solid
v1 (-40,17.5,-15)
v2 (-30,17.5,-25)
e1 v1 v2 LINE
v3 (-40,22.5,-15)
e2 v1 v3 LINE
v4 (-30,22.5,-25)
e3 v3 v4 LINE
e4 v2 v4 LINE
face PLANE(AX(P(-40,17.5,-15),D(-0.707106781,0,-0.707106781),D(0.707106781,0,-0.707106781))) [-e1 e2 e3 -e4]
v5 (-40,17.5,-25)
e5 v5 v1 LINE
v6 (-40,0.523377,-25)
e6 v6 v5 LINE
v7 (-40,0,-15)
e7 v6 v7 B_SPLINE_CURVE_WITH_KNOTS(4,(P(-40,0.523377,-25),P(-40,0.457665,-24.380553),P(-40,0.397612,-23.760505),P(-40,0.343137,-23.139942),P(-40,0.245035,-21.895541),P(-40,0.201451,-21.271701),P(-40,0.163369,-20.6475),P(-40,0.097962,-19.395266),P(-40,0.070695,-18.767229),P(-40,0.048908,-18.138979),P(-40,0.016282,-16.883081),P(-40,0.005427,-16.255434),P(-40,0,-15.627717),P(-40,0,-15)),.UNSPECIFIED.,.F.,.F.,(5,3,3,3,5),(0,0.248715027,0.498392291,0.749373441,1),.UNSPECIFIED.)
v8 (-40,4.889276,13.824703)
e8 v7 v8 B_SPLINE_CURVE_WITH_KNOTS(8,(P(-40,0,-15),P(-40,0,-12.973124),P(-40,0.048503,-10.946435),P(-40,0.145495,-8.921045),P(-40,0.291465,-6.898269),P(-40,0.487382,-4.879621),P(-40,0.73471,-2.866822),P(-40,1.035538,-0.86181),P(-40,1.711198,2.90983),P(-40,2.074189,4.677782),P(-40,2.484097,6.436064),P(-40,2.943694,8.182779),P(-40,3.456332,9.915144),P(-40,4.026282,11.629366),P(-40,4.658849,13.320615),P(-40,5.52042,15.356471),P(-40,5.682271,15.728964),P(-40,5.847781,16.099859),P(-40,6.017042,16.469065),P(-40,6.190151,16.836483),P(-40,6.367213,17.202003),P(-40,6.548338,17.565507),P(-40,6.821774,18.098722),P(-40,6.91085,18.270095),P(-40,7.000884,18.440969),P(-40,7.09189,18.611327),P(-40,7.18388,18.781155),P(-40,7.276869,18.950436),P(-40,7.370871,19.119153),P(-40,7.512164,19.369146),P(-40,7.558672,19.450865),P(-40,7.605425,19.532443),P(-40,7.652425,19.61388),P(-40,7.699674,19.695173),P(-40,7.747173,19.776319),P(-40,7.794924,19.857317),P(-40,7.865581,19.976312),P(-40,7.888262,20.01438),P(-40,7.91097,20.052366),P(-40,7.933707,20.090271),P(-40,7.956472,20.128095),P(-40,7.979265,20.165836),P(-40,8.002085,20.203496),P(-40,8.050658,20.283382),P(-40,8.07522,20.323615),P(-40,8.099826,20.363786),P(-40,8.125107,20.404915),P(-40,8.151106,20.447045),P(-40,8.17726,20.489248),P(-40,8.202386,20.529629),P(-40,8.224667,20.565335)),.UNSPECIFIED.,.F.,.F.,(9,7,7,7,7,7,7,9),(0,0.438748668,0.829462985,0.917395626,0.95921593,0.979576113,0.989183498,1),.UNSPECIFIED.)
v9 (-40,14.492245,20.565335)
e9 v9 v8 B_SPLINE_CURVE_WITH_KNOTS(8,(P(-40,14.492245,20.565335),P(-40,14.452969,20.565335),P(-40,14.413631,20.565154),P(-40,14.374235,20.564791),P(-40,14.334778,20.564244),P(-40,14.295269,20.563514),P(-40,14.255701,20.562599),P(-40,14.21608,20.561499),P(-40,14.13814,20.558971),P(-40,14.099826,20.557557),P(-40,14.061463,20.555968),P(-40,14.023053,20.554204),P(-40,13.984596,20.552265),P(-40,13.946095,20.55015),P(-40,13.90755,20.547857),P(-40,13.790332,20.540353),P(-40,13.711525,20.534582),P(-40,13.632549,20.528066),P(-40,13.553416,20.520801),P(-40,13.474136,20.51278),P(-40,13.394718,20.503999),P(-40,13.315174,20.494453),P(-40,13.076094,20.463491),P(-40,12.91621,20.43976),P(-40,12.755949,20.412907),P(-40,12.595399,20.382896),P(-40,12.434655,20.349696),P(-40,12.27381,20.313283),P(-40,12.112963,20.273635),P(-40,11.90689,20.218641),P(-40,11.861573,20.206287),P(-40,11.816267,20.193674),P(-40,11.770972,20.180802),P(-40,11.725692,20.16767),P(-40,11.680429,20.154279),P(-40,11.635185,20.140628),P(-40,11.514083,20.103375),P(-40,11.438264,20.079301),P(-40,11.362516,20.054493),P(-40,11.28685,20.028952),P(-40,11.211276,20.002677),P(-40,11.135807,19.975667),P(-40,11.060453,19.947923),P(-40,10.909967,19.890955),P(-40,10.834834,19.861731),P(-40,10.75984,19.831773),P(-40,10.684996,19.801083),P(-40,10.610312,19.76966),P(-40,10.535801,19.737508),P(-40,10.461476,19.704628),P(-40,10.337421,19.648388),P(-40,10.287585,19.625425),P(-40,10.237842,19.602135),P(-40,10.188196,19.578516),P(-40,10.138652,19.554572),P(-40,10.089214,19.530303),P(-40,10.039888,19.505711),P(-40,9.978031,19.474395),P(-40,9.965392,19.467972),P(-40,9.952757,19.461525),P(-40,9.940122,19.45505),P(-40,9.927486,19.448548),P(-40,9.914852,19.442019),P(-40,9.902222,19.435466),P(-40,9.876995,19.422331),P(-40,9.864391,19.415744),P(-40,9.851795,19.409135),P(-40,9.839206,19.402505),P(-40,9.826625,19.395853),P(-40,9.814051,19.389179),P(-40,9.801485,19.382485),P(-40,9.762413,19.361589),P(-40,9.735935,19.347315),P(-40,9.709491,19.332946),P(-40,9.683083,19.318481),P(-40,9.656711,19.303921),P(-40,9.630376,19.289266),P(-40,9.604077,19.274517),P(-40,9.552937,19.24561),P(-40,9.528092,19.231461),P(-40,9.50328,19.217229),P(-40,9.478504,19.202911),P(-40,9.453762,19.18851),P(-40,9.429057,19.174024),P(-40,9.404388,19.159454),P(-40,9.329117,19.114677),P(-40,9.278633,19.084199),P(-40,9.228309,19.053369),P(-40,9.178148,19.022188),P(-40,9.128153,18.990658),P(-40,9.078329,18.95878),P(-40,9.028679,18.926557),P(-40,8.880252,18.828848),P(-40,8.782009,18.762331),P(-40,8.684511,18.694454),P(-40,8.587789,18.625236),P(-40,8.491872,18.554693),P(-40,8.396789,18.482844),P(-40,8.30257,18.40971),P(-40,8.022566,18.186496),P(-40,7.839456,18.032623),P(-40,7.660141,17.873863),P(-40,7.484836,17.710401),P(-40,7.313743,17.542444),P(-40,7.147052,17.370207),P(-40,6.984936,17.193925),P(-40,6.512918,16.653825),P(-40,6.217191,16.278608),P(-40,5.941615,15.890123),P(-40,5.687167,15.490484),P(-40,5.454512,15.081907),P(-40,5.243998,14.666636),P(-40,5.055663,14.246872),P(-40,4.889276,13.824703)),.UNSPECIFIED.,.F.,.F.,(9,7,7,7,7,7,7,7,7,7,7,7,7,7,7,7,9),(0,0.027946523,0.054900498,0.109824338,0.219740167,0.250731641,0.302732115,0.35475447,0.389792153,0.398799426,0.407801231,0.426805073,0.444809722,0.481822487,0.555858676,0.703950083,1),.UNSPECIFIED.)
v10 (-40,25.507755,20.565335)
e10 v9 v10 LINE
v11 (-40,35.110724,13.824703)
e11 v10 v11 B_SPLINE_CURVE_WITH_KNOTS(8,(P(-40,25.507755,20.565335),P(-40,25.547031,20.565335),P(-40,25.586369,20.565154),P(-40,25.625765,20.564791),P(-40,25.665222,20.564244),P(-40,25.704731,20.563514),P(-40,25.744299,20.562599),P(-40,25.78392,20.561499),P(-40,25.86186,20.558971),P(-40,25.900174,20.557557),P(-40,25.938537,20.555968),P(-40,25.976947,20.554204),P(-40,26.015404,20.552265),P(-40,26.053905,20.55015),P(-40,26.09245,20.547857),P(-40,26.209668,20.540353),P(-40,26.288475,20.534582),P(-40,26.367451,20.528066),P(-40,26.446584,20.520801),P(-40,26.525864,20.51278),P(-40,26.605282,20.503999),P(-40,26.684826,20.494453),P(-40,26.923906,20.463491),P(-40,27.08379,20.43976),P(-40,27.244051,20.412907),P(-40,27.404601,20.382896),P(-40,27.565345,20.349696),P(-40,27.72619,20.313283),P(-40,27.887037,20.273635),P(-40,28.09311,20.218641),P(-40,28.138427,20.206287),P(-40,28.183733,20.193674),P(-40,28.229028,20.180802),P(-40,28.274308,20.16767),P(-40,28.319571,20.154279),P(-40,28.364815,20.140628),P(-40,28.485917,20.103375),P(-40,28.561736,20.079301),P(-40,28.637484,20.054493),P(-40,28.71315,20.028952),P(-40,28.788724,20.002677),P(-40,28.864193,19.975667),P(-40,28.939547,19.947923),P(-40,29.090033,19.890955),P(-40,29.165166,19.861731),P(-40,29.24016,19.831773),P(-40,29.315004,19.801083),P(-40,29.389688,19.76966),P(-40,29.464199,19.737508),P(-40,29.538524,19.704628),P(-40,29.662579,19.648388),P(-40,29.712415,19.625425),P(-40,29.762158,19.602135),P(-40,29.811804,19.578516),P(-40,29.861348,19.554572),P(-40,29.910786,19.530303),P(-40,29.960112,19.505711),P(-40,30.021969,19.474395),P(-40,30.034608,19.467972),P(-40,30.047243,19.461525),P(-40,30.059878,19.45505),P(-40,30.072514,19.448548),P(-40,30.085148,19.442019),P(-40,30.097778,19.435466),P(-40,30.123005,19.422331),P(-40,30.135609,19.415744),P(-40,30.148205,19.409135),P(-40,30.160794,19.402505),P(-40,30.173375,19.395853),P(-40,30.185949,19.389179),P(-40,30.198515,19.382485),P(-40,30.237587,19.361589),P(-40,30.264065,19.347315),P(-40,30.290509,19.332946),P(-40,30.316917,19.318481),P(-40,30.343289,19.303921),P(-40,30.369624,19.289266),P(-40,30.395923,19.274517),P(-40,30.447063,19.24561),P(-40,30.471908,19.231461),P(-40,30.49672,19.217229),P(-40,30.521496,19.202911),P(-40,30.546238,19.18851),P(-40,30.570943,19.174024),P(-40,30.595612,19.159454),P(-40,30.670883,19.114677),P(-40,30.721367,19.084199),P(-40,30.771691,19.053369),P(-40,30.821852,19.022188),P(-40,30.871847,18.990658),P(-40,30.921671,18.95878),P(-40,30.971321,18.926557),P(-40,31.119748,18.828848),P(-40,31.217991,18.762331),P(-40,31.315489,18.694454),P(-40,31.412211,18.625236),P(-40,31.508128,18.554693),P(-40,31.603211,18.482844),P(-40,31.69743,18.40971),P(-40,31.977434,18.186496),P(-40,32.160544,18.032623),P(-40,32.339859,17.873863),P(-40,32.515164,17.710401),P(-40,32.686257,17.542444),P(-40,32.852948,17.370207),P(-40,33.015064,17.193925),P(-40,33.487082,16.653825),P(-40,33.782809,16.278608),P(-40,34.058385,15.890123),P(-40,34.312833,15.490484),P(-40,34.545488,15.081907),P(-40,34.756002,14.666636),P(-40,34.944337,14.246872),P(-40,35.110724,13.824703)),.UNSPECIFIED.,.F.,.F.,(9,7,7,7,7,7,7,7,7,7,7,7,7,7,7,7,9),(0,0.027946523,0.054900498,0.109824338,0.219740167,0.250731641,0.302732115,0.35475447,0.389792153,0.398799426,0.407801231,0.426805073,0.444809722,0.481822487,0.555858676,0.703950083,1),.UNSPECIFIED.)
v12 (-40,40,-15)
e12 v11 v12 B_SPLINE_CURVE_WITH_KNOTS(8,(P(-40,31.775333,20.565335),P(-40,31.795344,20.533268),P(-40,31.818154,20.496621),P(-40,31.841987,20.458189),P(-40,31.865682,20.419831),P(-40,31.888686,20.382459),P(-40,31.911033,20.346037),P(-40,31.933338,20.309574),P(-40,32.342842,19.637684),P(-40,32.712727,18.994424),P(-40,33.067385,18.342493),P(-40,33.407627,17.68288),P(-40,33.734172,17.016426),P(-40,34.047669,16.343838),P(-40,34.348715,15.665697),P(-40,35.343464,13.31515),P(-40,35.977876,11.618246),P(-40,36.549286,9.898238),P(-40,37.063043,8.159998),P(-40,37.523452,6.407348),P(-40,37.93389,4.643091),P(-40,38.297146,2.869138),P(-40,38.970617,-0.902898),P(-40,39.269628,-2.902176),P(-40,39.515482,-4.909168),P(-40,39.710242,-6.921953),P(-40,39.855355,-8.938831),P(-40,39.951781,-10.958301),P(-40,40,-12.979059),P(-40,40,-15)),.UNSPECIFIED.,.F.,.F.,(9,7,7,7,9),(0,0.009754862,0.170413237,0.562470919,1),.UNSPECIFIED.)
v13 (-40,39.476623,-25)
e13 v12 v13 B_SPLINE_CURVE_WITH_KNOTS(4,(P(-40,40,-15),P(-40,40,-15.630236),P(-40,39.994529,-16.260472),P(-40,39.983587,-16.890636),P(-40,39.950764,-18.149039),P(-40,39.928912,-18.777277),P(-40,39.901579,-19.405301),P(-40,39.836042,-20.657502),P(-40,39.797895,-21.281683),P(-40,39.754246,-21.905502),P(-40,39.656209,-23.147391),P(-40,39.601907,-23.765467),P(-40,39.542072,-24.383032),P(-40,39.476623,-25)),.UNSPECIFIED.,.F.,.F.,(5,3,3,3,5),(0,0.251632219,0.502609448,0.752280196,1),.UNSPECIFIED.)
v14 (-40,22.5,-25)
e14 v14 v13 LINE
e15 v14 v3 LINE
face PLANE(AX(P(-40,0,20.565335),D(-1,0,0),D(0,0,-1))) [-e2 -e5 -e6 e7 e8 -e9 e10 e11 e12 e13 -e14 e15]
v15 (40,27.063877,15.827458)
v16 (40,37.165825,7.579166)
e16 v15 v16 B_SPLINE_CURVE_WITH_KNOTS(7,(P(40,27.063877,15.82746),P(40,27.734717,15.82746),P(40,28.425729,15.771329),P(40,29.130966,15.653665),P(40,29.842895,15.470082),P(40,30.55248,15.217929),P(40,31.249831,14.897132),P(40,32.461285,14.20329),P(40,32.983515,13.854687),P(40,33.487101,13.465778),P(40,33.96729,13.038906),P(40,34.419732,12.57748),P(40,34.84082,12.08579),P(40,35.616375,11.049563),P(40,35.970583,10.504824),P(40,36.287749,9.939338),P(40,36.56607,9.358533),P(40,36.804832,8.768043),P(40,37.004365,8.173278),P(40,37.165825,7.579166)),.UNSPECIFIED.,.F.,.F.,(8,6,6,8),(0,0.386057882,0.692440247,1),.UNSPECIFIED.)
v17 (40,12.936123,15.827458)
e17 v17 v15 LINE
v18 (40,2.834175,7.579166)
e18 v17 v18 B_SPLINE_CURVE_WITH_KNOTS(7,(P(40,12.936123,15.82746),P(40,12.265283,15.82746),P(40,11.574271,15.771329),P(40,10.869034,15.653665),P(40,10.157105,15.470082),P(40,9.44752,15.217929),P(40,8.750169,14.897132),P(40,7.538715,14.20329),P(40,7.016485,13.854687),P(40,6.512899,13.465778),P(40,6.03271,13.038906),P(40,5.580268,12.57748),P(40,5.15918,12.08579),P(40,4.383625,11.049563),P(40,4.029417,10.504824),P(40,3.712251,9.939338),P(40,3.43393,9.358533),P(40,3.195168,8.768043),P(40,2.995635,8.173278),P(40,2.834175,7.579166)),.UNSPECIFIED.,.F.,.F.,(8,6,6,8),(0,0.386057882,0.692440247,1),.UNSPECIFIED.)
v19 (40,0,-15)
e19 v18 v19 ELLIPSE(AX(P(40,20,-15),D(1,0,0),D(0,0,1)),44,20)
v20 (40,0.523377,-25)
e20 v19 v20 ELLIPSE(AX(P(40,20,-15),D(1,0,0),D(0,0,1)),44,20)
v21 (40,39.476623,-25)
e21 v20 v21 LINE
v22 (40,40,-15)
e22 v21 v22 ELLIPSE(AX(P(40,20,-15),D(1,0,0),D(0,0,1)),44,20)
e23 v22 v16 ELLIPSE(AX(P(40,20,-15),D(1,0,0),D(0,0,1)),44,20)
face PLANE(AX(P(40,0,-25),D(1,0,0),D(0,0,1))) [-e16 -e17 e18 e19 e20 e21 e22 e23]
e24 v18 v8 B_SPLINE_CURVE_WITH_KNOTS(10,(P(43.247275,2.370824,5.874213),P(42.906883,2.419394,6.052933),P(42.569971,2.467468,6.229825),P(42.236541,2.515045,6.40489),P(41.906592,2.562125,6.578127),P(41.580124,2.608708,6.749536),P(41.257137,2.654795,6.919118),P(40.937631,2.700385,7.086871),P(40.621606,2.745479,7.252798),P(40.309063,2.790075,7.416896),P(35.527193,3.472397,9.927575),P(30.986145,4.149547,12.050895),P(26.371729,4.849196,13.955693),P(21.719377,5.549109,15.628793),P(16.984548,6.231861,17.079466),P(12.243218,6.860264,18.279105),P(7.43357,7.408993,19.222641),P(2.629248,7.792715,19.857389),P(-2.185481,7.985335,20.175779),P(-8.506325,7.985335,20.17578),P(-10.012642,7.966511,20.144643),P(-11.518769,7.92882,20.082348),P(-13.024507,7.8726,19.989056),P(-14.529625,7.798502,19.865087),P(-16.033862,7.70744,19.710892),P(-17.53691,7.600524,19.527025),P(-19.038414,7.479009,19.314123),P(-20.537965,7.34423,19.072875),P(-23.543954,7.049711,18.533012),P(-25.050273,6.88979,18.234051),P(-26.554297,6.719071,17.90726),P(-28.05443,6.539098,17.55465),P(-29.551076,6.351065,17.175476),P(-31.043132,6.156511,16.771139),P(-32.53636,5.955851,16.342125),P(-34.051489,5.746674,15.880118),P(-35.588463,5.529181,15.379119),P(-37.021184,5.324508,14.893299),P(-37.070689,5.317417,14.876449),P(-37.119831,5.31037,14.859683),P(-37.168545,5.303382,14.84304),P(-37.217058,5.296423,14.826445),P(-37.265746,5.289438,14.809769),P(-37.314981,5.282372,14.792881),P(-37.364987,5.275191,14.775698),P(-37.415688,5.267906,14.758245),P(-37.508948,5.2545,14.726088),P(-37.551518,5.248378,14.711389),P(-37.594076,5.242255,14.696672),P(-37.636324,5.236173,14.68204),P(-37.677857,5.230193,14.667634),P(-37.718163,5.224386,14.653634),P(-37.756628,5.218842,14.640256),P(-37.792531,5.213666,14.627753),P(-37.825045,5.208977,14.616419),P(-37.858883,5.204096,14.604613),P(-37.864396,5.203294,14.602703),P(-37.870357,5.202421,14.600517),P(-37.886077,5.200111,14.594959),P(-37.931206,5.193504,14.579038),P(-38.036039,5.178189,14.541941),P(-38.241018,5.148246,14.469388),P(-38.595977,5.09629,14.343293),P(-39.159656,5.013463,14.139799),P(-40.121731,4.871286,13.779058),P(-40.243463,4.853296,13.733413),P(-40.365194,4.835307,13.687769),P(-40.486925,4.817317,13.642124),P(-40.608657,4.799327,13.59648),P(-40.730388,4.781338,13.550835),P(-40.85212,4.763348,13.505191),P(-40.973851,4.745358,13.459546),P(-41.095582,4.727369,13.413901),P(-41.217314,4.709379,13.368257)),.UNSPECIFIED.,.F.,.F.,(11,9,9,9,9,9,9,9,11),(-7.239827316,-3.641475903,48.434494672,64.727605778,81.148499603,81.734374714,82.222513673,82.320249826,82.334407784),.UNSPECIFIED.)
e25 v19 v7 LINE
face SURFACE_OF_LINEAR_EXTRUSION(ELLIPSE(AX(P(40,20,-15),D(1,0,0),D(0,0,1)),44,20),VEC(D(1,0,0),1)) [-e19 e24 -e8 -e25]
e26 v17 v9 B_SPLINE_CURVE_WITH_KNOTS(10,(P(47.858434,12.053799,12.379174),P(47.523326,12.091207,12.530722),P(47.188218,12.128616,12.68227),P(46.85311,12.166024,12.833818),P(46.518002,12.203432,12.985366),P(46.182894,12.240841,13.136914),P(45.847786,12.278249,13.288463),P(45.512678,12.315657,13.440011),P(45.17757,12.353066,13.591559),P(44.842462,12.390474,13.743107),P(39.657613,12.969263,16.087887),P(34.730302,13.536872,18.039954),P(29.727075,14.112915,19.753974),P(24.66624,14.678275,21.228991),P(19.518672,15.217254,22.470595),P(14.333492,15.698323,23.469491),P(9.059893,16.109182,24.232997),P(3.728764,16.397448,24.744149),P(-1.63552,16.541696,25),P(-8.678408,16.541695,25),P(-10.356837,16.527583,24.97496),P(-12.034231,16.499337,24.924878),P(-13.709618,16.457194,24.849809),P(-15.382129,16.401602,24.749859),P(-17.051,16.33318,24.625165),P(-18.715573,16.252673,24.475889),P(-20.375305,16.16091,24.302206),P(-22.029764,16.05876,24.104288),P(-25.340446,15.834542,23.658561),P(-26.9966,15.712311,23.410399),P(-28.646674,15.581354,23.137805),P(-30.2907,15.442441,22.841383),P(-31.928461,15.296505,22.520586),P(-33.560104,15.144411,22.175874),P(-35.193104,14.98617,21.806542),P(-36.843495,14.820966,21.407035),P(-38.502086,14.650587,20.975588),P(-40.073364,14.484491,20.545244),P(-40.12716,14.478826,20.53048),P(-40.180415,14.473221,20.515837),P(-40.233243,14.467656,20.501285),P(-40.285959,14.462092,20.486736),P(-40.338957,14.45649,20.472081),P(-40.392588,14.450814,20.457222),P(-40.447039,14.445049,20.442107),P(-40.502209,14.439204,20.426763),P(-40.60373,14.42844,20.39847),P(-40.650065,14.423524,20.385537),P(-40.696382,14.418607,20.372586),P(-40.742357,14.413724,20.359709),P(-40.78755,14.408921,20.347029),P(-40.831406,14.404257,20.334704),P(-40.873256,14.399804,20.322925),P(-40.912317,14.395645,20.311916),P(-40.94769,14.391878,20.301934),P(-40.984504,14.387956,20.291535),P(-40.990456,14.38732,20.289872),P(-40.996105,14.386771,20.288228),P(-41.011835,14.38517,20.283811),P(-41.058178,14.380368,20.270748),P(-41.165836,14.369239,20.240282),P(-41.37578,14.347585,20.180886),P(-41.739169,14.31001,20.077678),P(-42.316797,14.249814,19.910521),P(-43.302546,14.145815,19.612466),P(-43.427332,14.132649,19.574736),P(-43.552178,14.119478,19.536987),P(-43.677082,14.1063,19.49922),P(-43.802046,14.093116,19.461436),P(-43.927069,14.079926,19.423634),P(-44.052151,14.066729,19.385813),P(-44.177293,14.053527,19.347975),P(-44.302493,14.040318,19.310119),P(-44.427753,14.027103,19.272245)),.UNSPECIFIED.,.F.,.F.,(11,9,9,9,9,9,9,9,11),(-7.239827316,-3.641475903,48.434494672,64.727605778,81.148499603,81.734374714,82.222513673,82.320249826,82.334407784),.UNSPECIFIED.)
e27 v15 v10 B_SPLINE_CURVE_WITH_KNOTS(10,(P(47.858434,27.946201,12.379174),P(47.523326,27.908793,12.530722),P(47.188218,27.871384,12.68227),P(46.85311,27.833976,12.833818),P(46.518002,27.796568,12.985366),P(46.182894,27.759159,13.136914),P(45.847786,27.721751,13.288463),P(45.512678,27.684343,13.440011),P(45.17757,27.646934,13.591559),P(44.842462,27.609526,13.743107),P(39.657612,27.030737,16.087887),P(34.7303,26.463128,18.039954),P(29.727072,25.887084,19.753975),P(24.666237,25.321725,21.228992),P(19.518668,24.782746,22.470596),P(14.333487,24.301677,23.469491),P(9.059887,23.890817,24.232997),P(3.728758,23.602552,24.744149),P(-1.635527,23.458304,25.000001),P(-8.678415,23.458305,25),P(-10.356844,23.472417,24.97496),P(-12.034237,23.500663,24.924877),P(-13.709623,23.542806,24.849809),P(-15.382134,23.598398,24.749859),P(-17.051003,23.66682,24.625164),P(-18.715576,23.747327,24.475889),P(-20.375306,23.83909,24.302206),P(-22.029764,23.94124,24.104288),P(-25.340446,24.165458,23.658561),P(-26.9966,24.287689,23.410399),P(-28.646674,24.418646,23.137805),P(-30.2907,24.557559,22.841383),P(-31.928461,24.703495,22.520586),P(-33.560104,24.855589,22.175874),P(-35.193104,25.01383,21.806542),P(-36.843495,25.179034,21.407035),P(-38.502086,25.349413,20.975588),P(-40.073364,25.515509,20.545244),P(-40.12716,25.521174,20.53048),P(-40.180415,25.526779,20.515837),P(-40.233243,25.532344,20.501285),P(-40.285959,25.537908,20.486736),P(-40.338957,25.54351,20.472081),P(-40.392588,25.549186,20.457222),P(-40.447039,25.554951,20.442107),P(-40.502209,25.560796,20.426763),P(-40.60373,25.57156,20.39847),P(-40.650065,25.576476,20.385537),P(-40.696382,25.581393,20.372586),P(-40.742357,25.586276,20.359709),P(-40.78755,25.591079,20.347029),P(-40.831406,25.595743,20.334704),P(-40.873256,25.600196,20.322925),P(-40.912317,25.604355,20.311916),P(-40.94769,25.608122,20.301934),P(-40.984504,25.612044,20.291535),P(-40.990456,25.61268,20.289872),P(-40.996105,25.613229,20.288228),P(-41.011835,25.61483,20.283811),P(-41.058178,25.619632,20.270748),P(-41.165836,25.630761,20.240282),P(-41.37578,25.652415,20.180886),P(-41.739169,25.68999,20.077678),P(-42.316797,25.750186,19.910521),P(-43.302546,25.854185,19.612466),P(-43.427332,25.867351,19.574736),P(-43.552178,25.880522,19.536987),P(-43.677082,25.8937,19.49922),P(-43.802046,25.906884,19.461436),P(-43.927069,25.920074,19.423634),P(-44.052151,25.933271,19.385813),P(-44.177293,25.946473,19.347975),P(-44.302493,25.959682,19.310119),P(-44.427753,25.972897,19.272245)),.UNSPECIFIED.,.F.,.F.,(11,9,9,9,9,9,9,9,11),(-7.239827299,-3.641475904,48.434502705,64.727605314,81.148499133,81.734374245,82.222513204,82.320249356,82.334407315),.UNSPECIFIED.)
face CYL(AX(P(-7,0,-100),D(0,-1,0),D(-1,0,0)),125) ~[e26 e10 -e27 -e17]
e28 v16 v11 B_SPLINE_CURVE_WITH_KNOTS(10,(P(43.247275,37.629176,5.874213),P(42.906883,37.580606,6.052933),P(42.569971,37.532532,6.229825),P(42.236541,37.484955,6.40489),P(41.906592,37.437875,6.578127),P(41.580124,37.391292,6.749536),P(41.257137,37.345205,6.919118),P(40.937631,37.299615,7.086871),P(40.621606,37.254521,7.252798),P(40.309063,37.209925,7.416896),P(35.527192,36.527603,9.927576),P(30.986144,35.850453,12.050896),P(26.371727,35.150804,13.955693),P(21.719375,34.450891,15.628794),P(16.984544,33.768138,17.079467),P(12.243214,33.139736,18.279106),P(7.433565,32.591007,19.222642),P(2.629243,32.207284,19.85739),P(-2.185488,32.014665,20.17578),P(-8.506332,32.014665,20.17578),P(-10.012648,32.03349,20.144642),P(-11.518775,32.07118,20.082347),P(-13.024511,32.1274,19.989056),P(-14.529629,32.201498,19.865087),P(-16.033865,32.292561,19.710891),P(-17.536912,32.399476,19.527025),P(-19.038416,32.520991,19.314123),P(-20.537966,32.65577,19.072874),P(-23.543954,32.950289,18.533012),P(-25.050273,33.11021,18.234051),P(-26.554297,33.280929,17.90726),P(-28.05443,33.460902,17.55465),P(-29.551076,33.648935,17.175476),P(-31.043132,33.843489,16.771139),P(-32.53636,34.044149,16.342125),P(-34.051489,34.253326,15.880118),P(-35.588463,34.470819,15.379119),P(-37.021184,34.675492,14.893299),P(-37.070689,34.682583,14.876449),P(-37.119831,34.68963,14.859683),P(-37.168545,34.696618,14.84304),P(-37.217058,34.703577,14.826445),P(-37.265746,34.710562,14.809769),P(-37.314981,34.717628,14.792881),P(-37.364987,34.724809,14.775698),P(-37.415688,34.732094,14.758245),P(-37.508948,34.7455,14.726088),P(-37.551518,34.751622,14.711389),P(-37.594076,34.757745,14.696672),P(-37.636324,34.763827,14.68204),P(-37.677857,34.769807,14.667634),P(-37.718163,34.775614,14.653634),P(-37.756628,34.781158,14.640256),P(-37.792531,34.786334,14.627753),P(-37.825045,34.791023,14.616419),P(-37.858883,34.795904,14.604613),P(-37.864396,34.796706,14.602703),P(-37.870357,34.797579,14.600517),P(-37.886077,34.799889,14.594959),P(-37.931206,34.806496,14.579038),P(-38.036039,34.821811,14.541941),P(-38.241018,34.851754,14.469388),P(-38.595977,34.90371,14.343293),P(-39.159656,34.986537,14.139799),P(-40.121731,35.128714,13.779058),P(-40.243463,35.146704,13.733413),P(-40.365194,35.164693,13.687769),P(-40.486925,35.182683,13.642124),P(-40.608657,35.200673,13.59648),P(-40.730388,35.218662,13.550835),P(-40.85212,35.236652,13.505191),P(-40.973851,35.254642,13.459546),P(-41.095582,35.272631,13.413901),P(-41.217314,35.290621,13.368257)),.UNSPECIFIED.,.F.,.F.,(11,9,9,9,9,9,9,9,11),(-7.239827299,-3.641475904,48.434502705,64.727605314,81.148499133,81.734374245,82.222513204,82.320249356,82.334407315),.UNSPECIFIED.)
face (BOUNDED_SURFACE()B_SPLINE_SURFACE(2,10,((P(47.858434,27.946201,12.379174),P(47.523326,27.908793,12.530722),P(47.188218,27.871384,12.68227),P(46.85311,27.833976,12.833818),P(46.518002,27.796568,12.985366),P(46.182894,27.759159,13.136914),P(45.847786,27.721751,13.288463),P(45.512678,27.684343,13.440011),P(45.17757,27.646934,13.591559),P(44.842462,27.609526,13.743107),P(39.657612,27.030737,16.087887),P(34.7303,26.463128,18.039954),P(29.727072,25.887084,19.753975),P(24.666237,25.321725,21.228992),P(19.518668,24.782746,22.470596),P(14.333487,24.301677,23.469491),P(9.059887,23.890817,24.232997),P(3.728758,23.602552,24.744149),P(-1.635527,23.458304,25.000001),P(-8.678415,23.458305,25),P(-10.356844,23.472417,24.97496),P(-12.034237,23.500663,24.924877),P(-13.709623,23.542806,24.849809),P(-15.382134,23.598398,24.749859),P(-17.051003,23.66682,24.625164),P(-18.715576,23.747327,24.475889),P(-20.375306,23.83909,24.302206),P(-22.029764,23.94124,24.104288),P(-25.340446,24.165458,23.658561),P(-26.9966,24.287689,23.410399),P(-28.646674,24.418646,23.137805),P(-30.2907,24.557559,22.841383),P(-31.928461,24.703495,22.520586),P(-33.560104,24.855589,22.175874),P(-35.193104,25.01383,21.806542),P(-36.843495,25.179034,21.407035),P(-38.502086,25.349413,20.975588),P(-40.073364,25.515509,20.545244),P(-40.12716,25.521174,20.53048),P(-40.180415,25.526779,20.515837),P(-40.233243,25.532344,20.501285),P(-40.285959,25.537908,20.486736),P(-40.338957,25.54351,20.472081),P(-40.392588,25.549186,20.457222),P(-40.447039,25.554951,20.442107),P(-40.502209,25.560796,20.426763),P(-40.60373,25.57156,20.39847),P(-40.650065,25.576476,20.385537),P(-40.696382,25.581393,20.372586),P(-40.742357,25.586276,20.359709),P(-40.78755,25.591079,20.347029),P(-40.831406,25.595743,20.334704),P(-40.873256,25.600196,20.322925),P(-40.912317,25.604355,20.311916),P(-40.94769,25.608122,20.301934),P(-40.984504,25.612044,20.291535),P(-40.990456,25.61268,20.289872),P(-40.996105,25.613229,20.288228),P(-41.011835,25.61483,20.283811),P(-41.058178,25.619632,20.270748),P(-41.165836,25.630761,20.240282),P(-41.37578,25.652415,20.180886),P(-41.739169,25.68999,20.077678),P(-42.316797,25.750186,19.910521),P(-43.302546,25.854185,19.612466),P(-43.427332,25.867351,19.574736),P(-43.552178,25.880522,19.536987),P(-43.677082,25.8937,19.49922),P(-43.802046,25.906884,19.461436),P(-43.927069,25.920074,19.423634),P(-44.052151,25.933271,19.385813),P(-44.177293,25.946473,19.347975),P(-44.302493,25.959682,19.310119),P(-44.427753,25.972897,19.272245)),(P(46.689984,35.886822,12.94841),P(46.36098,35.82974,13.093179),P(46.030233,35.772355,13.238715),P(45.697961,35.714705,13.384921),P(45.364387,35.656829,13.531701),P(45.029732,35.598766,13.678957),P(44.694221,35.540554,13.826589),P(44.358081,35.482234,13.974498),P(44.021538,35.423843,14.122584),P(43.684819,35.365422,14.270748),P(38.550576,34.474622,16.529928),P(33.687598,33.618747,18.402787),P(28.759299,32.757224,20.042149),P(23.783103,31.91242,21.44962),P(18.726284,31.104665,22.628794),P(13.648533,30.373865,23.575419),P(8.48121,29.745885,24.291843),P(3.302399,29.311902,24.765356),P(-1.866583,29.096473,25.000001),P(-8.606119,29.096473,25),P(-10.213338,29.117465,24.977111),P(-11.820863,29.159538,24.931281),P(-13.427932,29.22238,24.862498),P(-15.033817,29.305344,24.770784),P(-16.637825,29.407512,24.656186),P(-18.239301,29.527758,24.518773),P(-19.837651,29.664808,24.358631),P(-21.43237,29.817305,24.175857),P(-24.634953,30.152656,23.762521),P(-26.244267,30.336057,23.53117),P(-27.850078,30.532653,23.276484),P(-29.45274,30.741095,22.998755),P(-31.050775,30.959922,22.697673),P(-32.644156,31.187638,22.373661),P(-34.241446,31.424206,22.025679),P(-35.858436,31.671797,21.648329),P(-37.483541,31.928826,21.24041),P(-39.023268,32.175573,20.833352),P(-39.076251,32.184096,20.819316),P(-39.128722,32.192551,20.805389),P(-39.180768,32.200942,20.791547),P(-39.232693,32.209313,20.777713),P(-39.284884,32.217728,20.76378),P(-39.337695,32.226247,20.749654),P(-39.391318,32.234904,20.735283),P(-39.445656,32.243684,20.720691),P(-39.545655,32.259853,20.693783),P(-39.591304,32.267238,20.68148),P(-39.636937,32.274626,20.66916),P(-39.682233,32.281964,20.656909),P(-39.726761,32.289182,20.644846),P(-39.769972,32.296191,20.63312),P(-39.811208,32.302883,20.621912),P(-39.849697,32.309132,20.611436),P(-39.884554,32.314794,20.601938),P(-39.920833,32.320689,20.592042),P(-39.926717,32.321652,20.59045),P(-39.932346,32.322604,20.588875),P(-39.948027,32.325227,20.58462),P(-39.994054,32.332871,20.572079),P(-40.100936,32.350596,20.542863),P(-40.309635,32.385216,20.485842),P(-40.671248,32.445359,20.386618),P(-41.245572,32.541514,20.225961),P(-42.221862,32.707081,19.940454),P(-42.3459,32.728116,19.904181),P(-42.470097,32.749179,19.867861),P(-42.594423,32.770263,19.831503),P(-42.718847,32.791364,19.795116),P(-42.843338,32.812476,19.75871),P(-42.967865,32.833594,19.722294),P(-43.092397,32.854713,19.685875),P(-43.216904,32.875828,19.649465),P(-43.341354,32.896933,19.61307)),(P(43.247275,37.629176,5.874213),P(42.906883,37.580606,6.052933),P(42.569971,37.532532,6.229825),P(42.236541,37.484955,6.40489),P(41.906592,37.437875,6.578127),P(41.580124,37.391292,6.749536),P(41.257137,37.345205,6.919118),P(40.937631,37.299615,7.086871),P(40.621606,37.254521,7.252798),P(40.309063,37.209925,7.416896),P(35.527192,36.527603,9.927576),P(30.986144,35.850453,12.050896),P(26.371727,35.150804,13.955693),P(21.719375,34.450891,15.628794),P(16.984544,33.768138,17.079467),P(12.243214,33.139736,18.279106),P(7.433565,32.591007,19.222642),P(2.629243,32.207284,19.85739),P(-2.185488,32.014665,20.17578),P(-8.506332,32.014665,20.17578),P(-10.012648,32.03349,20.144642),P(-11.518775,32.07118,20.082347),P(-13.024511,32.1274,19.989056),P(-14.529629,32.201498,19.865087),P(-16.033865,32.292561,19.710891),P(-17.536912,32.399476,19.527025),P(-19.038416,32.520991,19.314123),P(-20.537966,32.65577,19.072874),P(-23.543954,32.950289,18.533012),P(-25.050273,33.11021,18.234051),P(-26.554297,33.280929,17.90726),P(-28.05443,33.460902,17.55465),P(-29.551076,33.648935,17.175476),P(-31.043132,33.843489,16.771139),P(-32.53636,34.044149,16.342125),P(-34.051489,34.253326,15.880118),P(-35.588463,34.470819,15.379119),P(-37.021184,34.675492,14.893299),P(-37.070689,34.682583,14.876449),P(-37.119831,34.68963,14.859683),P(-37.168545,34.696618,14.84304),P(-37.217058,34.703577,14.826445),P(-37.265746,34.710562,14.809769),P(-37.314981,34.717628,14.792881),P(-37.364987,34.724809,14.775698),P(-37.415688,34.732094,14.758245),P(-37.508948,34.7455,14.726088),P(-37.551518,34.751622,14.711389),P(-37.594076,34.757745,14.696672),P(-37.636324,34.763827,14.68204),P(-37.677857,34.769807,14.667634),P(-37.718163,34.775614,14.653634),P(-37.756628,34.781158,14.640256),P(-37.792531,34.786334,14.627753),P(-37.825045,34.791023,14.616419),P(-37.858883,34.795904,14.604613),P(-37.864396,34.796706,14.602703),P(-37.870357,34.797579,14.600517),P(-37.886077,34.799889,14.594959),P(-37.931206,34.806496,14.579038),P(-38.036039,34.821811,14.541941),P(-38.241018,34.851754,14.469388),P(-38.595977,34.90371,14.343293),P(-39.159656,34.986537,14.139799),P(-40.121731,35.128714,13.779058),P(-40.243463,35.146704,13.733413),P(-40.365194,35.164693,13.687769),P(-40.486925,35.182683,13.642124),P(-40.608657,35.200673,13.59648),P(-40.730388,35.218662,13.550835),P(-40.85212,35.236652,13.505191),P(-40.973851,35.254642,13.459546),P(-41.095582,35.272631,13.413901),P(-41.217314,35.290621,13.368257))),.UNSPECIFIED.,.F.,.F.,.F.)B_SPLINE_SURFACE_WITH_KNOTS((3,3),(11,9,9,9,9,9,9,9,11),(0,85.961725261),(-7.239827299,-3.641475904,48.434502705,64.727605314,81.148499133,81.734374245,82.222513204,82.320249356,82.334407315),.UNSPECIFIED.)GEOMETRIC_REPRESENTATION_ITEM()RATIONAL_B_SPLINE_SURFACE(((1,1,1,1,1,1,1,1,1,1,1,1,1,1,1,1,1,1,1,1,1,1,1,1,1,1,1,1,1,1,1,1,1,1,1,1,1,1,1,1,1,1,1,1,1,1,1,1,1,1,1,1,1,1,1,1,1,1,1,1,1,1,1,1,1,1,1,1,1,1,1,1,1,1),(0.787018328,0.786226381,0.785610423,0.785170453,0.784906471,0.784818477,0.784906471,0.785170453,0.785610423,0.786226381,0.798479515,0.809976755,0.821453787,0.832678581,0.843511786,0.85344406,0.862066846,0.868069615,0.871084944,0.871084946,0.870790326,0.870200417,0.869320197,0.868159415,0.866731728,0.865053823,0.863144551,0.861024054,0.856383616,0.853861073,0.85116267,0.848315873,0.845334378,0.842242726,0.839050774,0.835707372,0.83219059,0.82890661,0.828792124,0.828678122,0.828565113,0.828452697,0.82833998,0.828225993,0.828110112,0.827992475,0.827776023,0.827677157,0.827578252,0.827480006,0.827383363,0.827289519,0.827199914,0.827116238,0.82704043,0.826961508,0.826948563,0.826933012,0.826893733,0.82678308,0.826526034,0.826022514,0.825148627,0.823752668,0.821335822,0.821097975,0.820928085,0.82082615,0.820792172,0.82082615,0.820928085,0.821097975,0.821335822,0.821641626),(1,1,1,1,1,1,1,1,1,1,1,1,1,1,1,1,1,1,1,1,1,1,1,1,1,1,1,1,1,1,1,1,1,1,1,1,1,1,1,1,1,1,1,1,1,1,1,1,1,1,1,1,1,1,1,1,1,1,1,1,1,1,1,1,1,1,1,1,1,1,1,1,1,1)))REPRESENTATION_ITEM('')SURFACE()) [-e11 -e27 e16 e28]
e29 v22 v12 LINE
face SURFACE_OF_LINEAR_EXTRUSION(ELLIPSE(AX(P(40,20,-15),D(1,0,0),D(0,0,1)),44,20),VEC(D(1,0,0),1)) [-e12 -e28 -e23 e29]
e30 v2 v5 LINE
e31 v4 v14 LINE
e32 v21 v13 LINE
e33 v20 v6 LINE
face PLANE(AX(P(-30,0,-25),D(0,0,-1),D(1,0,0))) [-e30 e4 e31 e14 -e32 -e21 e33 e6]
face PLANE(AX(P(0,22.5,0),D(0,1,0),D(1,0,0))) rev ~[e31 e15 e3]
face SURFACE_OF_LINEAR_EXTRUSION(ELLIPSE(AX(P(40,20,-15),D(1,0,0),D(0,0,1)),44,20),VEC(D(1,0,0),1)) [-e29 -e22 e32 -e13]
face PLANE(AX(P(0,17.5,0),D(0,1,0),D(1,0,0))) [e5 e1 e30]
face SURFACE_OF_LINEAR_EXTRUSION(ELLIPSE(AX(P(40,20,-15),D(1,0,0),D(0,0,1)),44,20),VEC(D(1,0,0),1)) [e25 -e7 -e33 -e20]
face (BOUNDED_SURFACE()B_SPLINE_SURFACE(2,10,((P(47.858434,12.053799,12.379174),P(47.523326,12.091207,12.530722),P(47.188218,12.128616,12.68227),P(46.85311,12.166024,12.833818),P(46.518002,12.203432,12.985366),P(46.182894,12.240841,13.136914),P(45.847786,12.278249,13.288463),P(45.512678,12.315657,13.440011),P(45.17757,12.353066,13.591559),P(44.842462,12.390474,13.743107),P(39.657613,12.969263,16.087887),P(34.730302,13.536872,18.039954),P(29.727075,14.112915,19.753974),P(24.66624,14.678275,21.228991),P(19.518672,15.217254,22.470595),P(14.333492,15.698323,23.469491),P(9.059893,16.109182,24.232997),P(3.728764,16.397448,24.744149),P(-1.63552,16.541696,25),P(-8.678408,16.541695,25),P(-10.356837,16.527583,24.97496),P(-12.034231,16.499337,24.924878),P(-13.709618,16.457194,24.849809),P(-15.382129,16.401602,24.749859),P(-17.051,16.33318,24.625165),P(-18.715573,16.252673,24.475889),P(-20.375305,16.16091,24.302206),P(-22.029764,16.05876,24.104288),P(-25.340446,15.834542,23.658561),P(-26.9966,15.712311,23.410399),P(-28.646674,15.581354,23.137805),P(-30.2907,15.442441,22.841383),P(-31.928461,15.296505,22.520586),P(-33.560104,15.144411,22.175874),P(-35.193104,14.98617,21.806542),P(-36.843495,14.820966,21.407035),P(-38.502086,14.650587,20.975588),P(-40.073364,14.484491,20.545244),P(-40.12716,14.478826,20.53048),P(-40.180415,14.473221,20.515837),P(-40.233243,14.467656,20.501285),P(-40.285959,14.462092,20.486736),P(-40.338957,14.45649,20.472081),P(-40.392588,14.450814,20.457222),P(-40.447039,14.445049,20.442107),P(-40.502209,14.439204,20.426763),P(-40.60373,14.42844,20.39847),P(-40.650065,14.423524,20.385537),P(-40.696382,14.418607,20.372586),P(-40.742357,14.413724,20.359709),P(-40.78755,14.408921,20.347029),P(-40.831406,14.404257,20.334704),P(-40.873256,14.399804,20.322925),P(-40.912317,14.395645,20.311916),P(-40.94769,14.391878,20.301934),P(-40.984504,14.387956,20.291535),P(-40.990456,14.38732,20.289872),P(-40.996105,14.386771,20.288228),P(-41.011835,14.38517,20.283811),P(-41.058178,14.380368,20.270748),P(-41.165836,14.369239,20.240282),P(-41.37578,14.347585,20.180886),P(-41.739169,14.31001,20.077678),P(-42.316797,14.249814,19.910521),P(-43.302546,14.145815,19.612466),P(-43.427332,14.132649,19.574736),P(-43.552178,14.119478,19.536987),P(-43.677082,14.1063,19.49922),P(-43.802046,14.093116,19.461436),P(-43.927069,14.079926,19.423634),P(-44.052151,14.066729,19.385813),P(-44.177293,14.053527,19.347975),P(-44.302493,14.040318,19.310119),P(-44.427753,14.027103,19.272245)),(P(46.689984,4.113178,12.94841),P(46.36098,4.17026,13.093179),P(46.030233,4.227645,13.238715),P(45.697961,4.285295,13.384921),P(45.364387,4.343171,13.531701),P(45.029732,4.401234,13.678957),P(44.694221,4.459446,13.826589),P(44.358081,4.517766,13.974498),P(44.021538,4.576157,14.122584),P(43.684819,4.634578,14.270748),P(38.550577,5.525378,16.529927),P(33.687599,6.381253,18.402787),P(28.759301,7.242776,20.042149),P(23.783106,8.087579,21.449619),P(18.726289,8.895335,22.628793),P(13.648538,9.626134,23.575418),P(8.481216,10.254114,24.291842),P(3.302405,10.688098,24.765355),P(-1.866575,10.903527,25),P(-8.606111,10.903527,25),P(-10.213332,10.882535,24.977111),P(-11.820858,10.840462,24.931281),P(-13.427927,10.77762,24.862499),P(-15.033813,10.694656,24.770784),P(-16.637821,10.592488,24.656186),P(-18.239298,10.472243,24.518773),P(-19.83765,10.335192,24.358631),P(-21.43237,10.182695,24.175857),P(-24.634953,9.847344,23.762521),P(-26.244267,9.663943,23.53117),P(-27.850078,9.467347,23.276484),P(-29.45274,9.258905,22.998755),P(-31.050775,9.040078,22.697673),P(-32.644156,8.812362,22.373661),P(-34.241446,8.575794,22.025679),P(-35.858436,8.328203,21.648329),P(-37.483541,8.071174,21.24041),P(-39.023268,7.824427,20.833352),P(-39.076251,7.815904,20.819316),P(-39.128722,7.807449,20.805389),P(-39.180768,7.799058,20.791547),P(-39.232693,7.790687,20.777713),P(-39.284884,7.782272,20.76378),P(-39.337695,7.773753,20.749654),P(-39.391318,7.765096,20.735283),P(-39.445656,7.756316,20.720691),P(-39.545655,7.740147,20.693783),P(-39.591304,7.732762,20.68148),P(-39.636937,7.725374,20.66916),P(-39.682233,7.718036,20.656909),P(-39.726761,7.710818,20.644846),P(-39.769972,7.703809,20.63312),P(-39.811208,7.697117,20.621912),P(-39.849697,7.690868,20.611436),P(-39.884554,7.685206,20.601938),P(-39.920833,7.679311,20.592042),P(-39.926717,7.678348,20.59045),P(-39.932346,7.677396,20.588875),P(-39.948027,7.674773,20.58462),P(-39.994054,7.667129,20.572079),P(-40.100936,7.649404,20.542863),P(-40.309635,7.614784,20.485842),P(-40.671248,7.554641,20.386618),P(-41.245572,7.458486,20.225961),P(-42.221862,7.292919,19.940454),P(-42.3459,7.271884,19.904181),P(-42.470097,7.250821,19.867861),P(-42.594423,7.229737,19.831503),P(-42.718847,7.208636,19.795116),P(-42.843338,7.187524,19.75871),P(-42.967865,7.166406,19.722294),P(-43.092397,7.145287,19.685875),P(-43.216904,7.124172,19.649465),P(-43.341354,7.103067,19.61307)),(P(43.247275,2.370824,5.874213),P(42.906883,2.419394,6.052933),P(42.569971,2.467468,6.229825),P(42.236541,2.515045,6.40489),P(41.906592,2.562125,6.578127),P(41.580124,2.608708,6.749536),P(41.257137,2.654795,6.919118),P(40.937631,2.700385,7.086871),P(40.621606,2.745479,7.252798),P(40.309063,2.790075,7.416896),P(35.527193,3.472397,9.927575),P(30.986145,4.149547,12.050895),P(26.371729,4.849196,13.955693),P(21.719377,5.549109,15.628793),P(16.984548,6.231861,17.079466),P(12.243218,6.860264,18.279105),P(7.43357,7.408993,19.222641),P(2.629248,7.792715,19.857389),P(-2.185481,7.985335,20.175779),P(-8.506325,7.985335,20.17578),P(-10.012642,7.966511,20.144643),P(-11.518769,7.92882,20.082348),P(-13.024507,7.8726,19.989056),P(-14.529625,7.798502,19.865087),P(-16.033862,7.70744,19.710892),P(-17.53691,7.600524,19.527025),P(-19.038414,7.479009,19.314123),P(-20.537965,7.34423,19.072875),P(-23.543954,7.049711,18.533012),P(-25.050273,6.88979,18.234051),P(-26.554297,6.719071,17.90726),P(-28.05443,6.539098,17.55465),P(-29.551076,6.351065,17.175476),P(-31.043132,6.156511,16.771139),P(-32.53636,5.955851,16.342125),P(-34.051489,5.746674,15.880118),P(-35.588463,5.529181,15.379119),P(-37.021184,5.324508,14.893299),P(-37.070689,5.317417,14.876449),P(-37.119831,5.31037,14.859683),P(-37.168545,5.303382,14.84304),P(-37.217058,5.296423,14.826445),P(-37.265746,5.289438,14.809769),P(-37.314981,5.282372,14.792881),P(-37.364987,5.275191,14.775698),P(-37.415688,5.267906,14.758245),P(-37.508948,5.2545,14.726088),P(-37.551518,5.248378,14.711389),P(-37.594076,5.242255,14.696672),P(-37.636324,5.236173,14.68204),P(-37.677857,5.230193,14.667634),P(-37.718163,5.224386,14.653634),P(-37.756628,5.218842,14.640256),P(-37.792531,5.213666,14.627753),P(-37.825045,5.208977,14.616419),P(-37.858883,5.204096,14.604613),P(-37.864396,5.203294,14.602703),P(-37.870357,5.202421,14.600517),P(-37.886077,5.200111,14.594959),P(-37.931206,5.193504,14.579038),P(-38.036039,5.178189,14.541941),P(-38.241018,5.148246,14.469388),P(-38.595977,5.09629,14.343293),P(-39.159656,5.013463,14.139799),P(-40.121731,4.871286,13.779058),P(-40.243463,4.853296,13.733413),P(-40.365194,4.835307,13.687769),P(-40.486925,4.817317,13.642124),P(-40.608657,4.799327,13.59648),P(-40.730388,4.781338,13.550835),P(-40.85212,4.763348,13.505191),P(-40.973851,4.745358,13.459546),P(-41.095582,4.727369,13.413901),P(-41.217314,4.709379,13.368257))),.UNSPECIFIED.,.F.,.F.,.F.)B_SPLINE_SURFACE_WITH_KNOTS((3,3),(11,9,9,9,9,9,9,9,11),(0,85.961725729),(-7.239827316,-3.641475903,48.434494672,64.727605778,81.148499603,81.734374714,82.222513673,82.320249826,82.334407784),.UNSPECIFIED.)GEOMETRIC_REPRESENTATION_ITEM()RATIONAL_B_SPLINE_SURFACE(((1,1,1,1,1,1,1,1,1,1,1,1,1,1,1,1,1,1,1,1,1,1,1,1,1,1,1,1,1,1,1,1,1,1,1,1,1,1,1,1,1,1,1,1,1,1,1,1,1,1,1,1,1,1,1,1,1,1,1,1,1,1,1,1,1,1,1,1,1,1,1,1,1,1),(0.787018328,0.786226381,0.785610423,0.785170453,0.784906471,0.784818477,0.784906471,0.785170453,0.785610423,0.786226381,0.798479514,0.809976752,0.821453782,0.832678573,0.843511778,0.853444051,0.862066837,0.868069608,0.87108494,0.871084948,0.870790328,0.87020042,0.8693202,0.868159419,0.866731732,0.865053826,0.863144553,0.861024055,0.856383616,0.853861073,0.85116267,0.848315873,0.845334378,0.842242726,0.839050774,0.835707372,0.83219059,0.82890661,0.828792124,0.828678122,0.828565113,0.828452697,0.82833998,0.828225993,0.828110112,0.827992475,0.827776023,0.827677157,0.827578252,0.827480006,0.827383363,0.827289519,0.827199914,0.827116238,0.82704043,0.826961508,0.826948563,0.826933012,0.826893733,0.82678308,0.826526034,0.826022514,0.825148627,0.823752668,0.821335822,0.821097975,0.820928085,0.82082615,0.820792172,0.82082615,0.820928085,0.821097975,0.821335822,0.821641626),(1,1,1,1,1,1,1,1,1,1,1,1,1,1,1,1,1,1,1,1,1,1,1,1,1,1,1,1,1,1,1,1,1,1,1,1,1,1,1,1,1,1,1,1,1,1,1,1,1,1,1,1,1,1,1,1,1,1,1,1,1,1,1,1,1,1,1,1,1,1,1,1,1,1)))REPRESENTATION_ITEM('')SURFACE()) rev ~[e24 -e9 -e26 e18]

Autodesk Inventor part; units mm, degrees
ref_plane "YZ Plane" through (0, 0, 0) normal (1, 0, 0) x (0, 1, 0)
ref_plane "XZ Plane" through (0, 0, 0) normal (0, 1, 0) x (-1, 0, 0)
ref_plane "XY Plane" through (0, 0, 0) normal (0, 0, 1) x (1, 0, 0)
sketch "スケッチ1" plane through (0, 0, 0) normal (0, 1, 0) x (-1, 0, 0)
  line L0 (-40, 25) -> (40, 25)
  line L1 (40, 25) -> (40, -25)
  line L2 (40, -25) -> (-40, -25)
  line L3 (-40, -25) -> (-40, 25)
  line L4 (-40, 25) -> (40, -25) construction
  line L5 (40, 25) -> (-40, -25) construction
  circle A0 centre (7, -100) radius 125
  line L6 (40, -15) -> (30, -25)
  point P0 (0, 0)
  point P1 (40, 20.5653)
  point P2 (-40, 15.8275)
  dimension "d0" = 80
  dimension "d1" = 50
  dimension "d2" = 7
  dimension "d3" = 250
  dimension "d6" = 10
  dimension "d7" = 10
extrude "押し出し1" add sketch "スケッチ1" along normal blind 40 contours A0 L1 L6 L2 L3 | L1 L2 L6
ref_plane "作業平面1" through (0, 17.5, 0) normal (0, 1, 0) x (1, 0, 0)
sketch "スケッチ2" plane through (0, 17.5, 0) normal (0, 1, 0) x (1, 0, 0)
  line L0 (40, -15.8275) -> (40, 25) projected
  line L1 (40, 25) -> (-40, 25) projected
  line L2 (-40, 25) -> (-40, -20.5653) projected
  arc A0 (-40, -20.5653) -> (40, -15.8275) centre (-7, 100) ccw projected
  line L3 (-40, 15) -> (-30, 25)
  line L4 (40, 25) -> (-40, 25) projected
  point P0 (0, 0)
  dimension "d11" = 10
  dimension "d12" = 45
extrude "押し出し2" cut sketch "スケッチ2" along normal blind 5 contours L3 L2 L1
sketch "スケッチ3" plane through (40, 0, 15.8275) normal (1, 0, 0) x (0, 0, -1)
  line L0 (-9.1725, 0) -> (-9.1725, 40) projected
  line L1 (0, 0) -> (40.8275, 0) projected
  line L2 (0, 0) -> (-9.1725, 0) projected
  line L3 (0, 40) -> (-9.1725, 40) projected
  line L4 (0, 40) -> (40.8275, 40) projected
  line L5 (40.8275, 0) -> (40.8275, 40) projected
  line L6 (40.8275, 20) -> (-7.81, 20)
  ellipse E0 centre (30.8275, 20) end of major axis (-13.1725, 20) minor radius 20
  point P0 (15.8275, 0)
  point P1 (-4.7379, 0)
  point P2 (-4.7379, 40)
  point P3 (-9.1725, 28.332)
  point P4 (30.8275, 40)
  point P5 (40.8275, 39.4766)
  point P6 (30.8275, 0)
  point P7 (-9.1725, 11.668)
  point P8 (40.8275, 0.5234)
  dimension "d15" = 44
  dimension "d16" = 10
extrude "押し出し3" cut sketch "スケッチ3" against normal through all contours L0 E0 L1 L2 | L0 L3 L4 E0 | E0 L5 L1 | L4 L5 E0
fillet "フィレット2" radius 10 4 edges at (16.84, 9.6918, 22.7056) (-23.6437, 10.6425, 23.887) (16.84, 30.3082, 22.7056) (-23.6437, 29.3575, 23.887)
